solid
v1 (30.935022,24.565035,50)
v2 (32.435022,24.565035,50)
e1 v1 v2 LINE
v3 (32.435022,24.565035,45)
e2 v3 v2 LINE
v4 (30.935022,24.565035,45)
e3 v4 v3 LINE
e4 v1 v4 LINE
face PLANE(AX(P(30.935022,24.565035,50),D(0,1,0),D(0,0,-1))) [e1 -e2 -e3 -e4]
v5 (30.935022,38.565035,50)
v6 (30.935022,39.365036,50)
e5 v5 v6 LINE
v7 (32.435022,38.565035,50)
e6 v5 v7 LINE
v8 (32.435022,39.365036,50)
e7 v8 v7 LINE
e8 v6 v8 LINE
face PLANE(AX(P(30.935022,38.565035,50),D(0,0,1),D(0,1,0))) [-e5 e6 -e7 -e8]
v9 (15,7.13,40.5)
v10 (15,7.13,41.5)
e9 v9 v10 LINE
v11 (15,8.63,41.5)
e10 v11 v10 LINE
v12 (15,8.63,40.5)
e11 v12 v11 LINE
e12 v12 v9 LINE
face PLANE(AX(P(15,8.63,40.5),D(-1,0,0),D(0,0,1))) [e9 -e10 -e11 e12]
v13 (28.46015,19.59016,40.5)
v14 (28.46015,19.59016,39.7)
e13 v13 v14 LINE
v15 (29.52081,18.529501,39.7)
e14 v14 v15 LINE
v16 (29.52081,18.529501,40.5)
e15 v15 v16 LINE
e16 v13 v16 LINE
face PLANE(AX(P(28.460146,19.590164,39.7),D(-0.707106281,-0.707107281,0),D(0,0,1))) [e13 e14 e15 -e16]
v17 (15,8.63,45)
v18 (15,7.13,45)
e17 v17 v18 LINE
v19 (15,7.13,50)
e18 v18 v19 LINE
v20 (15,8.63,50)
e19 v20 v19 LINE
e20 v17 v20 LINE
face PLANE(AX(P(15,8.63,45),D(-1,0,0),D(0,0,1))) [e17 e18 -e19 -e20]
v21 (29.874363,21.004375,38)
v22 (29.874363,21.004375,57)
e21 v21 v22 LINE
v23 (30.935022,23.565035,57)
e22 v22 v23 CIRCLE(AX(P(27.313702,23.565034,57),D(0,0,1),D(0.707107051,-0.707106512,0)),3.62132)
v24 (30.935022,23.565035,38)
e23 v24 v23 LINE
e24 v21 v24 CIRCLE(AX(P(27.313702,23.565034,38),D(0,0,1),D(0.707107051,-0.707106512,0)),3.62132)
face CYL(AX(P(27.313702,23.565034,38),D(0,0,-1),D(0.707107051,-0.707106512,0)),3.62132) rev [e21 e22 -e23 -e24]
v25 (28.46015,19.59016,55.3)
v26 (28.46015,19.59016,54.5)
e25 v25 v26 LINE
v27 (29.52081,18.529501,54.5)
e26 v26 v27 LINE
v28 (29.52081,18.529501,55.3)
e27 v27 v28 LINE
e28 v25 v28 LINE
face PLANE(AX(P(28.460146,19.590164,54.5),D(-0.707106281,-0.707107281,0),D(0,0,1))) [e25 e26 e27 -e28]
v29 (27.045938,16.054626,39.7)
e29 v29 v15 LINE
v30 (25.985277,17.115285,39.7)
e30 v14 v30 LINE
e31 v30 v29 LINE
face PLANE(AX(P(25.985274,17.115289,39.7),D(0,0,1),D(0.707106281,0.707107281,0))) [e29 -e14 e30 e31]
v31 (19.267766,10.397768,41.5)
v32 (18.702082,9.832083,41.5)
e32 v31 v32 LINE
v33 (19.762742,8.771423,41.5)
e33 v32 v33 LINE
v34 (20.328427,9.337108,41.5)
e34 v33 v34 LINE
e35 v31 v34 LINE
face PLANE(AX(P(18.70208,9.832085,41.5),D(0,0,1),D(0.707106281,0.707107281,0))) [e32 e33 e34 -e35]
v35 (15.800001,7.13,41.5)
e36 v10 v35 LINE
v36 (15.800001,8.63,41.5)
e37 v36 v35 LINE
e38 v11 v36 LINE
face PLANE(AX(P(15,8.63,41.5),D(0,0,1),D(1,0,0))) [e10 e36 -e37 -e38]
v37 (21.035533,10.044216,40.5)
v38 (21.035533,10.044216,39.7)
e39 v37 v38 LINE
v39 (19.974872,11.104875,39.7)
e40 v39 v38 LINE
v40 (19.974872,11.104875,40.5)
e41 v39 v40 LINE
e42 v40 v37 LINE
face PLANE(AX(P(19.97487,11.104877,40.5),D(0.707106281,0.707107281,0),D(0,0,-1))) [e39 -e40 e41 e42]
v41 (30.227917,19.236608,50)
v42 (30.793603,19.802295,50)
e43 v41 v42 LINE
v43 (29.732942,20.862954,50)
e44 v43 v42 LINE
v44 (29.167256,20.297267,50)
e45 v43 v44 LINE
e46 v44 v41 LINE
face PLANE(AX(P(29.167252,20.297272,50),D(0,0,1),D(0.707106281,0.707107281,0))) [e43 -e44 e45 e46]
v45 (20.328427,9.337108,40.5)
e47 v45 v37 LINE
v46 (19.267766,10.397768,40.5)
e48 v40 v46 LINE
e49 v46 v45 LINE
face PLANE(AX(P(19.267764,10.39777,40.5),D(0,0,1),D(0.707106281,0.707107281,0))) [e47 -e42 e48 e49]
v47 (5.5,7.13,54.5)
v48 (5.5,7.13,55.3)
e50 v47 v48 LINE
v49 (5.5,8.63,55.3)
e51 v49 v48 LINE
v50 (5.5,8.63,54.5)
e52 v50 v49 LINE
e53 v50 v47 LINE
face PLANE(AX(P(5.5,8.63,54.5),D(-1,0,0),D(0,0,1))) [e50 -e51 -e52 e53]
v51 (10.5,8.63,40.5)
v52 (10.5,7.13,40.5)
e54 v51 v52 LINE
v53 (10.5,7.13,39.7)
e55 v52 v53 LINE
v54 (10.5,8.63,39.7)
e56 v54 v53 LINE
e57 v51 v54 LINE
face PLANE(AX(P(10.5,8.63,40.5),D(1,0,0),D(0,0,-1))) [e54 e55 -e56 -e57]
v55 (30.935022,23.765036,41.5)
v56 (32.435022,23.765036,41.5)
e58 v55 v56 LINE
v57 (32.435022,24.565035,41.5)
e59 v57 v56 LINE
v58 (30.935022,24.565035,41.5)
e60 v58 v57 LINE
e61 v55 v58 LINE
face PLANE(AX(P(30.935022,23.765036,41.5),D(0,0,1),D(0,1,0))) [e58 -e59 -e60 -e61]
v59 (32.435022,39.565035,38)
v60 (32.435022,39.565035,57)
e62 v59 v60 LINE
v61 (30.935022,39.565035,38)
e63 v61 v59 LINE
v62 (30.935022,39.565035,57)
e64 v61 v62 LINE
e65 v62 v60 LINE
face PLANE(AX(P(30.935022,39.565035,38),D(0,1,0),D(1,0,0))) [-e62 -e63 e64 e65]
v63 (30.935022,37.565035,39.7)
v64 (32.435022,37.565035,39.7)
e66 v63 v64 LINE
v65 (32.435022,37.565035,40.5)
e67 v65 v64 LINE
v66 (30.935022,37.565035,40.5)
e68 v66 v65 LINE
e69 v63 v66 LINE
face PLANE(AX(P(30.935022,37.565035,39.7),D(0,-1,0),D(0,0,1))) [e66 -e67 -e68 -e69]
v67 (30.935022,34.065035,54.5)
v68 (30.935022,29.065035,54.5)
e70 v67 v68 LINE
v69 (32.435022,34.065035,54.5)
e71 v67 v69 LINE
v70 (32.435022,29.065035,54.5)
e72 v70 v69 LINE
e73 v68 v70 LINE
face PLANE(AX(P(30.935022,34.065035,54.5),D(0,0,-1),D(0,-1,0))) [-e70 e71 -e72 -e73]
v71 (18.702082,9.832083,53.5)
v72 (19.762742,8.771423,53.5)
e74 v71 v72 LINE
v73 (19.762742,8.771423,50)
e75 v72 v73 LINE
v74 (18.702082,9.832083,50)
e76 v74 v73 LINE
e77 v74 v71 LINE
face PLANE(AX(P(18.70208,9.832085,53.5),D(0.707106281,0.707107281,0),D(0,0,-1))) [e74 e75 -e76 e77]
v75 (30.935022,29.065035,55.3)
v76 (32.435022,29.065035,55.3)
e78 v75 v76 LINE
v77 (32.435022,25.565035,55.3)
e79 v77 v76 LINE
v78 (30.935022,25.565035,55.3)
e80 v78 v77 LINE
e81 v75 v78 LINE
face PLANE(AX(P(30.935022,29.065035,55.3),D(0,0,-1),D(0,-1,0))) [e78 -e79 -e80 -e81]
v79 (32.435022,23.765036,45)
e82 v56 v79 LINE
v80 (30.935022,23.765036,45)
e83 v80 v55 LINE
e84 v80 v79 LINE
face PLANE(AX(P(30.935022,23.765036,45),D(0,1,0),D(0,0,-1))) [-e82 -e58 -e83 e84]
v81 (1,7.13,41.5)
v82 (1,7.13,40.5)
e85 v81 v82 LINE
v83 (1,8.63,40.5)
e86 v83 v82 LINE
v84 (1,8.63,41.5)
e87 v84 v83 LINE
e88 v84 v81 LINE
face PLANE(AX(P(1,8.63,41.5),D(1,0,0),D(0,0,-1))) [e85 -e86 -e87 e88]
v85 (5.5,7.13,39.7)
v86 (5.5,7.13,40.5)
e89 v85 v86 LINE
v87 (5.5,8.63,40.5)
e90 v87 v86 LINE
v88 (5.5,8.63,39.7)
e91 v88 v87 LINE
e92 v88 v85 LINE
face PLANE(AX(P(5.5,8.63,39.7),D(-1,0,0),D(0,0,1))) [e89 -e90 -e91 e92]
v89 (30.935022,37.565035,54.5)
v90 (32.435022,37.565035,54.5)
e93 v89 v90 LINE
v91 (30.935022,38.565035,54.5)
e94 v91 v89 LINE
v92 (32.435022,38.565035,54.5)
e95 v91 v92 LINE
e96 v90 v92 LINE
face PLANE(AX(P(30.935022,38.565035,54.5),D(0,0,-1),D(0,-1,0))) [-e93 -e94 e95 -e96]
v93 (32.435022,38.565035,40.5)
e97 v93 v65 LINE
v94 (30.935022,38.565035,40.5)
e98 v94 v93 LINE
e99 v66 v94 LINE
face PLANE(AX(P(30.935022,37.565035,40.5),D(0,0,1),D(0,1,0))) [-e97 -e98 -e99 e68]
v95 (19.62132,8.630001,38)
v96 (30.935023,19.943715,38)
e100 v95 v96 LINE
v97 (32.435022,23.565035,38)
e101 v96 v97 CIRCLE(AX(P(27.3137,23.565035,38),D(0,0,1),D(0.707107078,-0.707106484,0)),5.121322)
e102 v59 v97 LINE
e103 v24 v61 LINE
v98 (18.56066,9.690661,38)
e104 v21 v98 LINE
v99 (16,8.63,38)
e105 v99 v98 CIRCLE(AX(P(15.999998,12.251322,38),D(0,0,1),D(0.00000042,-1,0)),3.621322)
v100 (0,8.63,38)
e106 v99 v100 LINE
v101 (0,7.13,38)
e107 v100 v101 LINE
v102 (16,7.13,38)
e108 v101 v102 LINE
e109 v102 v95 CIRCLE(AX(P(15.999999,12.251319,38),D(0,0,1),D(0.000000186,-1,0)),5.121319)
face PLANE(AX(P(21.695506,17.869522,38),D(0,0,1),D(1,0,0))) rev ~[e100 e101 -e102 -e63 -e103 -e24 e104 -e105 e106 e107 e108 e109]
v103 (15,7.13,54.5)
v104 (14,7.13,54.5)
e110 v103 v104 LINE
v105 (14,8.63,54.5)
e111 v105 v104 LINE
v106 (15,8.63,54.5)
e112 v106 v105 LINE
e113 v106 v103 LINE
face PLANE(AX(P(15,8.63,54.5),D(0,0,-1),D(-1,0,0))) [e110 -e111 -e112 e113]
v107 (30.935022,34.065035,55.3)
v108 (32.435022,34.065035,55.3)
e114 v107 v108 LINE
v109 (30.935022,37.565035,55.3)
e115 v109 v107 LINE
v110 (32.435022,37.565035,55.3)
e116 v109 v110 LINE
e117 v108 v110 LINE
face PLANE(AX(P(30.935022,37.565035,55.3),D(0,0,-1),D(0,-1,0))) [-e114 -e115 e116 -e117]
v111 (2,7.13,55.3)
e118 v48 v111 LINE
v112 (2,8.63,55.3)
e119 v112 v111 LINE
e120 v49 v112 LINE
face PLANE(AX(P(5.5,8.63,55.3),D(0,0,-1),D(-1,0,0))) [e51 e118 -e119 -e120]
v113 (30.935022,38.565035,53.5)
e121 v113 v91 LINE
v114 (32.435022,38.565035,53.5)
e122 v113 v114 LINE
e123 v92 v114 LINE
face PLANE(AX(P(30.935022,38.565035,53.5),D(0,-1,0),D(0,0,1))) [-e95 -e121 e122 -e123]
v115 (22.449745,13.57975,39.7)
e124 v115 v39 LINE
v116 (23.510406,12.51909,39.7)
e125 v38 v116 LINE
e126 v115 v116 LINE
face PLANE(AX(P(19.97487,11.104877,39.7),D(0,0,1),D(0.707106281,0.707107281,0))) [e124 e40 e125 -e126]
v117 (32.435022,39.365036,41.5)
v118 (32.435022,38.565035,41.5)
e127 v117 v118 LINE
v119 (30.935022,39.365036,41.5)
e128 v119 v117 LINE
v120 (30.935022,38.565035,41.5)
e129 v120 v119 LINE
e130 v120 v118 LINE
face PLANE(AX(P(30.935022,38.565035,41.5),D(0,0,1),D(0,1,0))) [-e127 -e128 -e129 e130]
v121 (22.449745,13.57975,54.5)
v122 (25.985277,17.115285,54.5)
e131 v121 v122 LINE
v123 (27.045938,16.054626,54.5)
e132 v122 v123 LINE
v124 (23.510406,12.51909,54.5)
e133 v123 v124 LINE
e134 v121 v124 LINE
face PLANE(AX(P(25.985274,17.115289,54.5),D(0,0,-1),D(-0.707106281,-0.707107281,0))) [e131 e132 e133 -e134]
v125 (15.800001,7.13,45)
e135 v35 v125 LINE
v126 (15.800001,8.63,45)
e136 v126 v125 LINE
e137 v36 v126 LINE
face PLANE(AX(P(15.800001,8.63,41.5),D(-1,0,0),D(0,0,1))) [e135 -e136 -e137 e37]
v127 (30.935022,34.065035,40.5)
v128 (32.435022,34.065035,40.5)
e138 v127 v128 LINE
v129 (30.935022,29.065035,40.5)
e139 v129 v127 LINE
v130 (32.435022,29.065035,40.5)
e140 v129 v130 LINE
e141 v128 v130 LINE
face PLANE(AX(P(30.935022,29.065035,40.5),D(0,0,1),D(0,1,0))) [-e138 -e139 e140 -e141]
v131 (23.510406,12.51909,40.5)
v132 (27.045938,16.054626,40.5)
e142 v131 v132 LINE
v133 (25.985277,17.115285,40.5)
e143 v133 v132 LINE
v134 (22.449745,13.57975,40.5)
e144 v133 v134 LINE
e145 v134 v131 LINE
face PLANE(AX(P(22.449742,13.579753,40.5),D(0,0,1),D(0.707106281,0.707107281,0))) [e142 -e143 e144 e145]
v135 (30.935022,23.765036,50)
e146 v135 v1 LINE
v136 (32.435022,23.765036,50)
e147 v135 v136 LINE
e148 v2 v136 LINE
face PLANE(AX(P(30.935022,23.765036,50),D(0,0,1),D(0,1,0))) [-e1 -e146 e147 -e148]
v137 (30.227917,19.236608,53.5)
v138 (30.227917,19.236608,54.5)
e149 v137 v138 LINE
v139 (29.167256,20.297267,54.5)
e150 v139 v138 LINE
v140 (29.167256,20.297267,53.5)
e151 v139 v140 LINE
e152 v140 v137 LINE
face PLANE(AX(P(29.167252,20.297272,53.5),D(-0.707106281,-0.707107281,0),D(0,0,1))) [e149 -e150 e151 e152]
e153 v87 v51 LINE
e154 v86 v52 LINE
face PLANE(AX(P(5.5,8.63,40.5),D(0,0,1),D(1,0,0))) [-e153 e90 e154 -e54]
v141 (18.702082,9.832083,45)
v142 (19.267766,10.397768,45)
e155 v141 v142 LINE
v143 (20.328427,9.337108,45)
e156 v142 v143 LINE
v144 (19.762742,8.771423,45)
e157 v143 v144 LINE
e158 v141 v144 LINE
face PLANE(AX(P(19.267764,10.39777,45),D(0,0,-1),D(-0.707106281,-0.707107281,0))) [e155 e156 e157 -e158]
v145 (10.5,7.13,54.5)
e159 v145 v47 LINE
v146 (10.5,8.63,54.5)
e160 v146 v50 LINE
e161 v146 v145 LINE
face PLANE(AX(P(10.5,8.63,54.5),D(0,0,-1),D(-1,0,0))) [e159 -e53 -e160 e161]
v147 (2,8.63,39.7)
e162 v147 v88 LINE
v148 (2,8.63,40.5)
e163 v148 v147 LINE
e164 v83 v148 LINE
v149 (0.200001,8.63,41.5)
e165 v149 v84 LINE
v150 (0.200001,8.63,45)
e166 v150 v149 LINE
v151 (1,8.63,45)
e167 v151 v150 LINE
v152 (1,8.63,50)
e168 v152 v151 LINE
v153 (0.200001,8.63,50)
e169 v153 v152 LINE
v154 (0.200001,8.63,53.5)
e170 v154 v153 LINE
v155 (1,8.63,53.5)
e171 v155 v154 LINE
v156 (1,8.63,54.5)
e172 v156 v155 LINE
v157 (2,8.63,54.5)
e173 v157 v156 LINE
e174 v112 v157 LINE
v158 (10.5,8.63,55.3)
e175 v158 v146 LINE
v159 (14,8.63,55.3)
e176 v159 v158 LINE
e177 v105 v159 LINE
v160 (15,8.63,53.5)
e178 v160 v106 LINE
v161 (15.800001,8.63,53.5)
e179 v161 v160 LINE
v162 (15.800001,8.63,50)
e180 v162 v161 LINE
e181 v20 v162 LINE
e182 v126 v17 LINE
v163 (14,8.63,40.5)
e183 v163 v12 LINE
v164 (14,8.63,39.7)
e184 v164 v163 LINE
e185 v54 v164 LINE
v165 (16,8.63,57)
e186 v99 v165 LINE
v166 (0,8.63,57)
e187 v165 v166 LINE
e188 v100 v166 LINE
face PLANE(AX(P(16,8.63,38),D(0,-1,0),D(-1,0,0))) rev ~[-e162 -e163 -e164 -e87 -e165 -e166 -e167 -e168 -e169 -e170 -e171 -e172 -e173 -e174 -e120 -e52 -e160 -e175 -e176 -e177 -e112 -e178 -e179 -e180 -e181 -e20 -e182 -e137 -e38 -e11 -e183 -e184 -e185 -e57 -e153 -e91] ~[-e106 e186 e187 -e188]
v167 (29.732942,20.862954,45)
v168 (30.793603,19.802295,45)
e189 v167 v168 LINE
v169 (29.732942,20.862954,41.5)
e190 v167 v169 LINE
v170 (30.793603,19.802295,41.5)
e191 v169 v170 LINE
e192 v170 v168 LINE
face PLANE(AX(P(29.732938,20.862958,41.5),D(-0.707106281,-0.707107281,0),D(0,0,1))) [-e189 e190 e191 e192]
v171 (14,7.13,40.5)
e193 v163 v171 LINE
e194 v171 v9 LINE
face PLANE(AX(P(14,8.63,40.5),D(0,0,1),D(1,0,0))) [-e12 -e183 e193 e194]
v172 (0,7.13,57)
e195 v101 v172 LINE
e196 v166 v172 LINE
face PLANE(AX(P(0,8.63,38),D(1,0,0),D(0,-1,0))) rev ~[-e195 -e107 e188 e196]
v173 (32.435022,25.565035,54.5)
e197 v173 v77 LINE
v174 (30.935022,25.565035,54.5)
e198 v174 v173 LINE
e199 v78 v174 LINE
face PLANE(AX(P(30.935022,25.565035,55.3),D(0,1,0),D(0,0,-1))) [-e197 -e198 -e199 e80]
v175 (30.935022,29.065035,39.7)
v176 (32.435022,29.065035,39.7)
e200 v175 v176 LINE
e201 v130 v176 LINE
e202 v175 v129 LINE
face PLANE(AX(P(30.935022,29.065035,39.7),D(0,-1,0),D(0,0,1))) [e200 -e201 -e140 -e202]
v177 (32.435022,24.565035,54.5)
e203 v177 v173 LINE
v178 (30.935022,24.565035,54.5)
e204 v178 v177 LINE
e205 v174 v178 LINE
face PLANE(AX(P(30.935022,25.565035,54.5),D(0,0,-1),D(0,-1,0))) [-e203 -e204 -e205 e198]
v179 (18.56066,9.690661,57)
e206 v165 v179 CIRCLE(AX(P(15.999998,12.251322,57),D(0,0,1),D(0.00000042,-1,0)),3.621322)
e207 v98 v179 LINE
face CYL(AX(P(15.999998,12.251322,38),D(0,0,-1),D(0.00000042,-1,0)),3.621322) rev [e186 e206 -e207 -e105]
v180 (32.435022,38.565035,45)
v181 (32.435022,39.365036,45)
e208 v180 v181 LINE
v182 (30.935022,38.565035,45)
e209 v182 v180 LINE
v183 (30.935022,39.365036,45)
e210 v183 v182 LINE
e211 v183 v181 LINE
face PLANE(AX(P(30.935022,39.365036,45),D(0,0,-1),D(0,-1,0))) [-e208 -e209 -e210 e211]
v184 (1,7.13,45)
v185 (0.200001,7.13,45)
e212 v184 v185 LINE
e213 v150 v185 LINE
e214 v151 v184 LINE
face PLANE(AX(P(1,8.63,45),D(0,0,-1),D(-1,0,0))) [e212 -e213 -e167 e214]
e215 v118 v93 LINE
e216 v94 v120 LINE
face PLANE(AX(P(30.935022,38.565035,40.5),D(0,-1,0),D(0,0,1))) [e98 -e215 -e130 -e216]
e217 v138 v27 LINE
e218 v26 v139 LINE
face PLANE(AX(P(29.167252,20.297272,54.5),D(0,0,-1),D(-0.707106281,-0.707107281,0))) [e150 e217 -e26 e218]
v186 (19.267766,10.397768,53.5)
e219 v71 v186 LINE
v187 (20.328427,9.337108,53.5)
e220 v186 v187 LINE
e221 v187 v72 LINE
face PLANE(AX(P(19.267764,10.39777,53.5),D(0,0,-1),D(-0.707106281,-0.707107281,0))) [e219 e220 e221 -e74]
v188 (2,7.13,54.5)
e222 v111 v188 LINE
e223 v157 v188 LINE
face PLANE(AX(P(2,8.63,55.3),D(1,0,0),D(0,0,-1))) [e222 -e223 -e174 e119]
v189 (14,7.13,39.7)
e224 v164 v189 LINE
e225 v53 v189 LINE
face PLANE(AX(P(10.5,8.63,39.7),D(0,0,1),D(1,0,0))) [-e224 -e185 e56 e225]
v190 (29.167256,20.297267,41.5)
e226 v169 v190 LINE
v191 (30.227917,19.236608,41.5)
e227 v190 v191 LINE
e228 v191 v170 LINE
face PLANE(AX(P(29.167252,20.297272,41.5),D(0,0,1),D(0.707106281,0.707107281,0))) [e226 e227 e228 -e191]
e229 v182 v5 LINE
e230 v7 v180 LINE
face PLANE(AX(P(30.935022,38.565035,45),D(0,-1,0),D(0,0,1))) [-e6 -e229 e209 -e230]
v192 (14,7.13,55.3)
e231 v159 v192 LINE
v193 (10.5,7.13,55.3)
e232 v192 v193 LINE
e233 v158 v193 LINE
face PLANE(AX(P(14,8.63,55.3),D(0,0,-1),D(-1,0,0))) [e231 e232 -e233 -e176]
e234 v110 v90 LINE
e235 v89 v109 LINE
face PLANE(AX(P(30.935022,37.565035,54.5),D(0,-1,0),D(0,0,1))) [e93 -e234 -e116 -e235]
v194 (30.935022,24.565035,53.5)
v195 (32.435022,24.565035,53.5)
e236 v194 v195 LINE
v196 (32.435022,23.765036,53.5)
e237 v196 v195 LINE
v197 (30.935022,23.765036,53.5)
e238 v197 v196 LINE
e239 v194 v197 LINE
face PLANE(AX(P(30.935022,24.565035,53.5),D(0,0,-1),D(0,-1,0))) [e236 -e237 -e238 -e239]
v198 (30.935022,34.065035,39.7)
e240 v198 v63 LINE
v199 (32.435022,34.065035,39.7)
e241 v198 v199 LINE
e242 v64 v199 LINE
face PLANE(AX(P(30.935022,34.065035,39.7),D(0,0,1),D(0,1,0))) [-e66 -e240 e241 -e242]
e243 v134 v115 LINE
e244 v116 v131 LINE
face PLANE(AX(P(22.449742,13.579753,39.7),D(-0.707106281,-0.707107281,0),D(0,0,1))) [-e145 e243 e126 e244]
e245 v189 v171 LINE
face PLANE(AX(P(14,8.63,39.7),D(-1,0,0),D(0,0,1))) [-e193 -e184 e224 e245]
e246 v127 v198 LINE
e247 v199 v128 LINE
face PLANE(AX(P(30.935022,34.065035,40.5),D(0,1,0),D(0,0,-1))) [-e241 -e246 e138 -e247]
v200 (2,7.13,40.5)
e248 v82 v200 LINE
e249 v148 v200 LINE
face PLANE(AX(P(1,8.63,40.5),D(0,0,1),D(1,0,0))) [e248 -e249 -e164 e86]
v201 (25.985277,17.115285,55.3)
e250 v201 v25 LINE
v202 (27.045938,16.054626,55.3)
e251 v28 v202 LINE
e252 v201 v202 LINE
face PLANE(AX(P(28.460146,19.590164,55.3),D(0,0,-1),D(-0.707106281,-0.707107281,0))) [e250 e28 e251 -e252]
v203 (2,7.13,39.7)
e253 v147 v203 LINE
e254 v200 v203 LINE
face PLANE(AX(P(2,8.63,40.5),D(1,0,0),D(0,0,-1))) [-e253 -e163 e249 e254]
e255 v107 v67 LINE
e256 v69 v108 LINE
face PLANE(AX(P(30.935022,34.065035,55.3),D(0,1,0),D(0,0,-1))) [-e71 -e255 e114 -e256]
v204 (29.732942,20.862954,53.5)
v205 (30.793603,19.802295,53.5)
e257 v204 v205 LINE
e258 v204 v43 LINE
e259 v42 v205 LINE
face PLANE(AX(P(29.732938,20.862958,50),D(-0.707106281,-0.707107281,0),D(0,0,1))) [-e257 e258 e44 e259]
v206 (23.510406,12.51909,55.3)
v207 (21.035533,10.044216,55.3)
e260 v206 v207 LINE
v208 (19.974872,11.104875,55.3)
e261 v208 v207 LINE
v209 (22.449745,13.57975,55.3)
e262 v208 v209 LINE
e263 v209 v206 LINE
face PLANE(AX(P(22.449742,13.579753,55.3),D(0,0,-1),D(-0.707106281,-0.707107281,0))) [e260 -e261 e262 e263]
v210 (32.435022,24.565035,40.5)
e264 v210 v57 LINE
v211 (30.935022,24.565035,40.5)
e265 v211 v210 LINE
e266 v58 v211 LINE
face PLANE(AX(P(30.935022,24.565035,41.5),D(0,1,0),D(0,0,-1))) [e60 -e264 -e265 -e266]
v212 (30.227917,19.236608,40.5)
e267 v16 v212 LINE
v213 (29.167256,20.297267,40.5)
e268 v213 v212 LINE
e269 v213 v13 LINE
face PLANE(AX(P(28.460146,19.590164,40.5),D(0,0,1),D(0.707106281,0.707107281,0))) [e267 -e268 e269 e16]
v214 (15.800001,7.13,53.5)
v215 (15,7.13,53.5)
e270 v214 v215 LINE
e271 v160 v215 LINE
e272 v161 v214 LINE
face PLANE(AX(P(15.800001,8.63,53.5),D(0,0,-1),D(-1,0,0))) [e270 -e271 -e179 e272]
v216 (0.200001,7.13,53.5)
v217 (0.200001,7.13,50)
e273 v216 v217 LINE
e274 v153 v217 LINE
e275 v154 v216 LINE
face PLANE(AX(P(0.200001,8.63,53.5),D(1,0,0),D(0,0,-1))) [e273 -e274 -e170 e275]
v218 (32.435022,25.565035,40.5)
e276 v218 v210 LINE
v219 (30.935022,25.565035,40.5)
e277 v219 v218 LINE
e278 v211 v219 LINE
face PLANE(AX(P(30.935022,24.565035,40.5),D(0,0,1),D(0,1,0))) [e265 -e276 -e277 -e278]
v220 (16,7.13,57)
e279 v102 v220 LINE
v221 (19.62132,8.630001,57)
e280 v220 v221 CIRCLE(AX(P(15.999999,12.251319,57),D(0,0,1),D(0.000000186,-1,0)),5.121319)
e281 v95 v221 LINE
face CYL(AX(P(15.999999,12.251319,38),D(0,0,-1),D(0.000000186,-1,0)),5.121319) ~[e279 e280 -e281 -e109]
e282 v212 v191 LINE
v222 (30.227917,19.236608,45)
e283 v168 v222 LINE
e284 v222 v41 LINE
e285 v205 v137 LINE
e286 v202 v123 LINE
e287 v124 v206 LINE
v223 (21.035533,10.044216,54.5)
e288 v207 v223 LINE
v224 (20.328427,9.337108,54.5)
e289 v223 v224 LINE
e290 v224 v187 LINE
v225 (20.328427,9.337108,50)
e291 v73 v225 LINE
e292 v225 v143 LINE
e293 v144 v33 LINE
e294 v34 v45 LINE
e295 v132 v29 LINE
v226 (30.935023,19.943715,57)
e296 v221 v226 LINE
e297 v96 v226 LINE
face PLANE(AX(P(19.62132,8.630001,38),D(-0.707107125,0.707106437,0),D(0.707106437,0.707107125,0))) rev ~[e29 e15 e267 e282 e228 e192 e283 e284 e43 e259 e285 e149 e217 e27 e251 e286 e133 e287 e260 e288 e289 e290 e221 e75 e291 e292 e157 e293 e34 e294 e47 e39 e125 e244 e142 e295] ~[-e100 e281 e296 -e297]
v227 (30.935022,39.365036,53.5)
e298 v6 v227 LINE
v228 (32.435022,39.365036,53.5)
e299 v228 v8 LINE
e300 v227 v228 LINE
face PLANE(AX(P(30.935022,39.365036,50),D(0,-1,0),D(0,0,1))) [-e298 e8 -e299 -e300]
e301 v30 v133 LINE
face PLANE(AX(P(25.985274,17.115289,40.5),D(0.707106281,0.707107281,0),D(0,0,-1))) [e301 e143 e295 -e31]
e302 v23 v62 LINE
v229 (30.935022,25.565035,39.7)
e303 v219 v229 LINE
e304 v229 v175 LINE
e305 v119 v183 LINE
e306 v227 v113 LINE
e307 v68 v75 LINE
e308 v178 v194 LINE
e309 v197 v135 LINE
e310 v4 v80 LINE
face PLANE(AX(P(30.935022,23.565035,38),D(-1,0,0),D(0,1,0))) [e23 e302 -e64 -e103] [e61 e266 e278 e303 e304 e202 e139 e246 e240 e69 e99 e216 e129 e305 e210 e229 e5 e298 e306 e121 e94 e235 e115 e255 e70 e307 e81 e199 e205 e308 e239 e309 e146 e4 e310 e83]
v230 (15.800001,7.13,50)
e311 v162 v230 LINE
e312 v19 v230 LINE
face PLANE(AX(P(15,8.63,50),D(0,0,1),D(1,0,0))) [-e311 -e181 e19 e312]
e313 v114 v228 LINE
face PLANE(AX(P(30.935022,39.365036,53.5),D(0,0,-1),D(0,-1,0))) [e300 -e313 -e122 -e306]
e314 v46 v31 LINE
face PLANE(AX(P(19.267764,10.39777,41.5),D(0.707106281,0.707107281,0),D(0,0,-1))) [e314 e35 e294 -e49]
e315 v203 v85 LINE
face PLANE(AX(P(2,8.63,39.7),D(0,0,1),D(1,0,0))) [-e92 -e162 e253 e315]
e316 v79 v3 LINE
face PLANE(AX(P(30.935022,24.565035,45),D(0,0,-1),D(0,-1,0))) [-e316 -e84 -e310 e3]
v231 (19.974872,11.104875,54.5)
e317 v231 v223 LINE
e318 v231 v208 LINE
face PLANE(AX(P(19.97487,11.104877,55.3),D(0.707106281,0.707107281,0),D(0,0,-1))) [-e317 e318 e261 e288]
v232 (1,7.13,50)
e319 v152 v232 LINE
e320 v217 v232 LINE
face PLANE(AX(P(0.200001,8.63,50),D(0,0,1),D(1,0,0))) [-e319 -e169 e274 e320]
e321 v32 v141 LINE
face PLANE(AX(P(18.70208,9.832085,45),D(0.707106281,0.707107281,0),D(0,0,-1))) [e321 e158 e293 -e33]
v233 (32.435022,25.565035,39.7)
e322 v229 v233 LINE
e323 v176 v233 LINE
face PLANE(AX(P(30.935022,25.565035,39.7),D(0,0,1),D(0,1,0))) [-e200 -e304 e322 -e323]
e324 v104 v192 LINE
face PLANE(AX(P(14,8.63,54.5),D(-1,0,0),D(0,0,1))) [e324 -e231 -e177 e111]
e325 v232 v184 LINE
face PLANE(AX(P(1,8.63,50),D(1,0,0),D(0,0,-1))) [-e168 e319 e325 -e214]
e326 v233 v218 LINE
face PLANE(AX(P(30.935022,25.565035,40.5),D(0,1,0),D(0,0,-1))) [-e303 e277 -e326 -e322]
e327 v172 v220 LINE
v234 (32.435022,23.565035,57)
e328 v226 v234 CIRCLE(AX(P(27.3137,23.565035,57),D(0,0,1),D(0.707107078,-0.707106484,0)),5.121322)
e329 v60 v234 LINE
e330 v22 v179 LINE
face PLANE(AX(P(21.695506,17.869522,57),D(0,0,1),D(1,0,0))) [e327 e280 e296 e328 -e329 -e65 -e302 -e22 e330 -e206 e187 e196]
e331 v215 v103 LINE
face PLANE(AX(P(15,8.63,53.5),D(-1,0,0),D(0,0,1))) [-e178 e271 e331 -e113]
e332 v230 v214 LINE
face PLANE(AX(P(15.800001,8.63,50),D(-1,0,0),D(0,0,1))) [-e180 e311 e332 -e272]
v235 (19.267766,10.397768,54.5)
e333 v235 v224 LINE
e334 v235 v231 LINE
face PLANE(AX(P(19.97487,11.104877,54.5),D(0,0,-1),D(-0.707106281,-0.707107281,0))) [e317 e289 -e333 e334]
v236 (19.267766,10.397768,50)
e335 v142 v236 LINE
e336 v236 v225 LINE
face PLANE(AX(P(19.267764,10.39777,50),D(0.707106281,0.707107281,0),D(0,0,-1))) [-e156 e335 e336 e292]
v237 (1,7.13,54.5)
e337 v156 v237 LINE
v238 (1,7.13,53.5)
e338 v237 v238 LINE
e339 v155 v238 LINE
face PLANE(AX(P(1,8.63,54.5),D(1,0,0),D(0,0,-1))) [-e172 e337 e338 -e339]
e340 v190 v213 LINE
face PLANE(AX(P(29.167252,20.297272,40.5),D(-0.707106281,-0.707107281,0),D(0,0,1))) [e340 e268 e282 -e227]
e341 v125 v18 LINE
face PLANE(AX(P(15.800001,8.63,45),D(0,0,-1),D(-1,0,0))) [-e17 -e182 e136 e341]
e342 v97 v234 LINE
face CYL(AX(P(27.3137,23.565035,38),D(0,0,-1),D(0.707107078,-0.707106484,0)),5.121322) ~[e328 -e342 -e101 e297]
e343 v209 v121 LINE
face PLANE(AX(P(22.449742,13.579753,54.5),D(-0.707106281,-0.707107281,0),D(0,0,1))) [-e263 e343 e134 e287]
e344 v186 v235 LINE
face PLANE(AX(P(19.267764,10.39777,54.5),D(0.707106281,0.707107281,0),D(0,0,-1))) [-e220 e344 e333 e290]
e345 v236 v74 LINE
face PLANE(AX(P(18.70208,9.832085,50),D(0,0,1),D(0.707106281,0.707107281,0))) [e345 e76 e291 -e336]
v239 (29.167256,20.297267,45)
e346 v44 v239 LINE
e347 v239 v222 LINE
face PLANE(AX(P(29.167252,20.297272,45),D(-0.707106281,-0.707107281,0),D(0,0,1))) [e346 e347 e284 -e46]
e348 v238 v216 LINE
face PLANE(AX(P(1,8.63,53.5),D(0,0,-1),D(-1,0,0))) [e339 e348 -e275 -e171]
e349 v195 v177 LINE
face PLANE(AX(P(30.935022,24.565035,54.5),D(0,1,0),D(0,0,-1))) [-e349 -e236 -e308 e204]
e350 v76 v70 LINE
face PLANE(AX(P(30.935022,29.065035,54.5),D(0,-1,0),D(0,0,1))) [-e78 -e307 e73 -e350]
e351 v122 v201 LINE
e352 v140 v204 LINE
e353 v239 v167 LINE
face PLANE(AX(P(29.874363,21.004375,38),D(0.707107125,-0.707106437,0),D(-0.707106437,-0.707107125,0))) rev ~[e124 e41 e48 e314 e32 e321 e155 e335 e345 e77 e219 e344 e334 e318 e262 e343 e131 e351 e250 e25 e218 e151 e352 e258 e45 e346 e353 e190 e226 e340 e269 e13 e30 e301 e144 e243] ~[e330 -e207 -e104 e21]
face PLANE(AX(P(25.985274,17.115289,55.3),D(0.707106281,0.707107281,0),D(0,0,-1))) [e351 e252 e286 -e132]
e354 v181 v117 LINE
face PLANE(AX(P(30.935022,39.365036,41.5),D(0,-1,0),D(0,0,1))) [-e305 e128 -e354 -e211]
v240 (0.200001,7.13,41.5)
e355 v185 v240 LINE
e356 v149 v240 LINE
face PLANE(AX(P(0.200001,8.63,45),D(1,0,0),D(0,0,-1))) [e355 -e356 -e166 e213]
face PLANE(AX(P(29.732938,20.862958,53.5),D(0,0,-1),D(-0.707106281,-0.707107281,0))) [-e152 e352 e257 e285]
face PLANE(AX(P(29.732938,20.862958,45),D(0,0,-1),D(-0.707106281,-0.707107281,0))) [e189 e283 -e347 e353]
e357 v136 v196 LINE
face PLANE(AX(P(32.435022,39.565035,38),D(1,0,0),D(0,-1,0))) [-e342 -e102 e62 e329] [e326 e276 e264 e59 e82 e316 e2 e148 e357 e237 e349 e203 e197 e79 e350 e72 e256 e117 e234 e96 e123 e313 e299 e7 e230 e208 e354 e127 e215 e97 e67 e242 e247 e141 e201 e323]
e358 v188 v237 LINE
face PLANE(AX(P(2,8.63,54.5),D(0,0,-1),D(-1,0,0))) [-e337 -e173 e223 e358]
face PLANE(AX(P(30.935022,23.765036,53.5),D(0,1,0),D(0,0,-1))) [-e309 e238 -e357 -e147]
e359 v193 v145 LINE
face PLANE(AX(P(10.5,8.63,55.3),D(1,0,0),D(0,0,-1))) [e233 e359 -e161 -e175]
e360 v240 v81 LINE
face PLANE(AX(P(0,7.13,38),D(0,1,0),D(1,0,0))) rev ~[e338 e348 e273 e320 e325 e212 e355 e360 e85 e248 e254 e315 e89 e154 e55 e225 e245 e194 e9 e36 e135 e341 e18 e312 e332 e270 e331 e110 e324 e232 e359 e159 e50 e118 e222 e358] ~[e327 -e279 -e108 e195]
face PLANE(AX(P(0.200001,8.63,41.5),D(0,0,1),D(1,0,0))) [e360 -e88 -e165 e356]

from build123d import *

# Parameters (mm, degrees)
PAD_DEPTH       = 19
POCKET_DEPTH    = 11.62232
POCKET002_DEPTH = 1.501
POCKET003_DEPTH = 1.501


with BuildPart() as part:
    # Sketch → Pad (new body)
    with BuildSketch(Plane.XY):
        with BuildLine():
            Line((0, 0), (16, 0))
            ThreePointArc((16, 0), (17.959845, 0.389838), (19.62132, 1.500001))
            Line((19.62132, 1.500001), (30.935023, 12.813715))
            ThreePointArc((30.935023, 12.813715), (32.045185, 14.475191), (32.435022, 16.435035))
            Line((32.435022, 32.435035), (32.435022, 16.435035))
            Line((30.935022, 32.435035), (32.435022, 32.435035))
            Line((30.935022, 16.435035), (30.935022, 32.435035))
            ThreePointArc((29.874363, 13.874375), (30.659366, 15.049216), (30.935022, 16.435035))
            Line((29.874363, 13.874375), (18.56066, 2.560661))
            ThreePointArc((16, 1.5), (17.385819, 1.775657), (18.56066, 2.560661))
            Line((16, 1.5), (0, 1.5))
            Line((0, 1.5), (0, 0))
        make_face()
    extrude(amount=PAD_DEPTH)

    # Sketch004 → Pocket (cut, through all)
    with BuildSketch(Plane(origin=(8.000009, -8.000001, 0), x_dir=(-0.707106, -0.707107, 0), z_dir=(-0.707107, 0.707106, 0))):
        Polygon((-28.935023, 17.3), (-25.435023, 17.3), (-25.435023, 16.5), (-20.435023, 16.5), (-20.435023, 17.3), (-16.935023, 17.3), (-16.935023, 16.5), (-15.935023, 16.5), (-15.935023, 15.5), (-15.135024, 15.5), (-15.135024, 12), (-15.935023, 12), (-15.935023, 7), (-15.135024, 7), (-15.135024, 3.5), (-15.935023, 3.5), (-15.935023, 2.5), (-16.935023, 2.5), (-16.935023, 1.7), (-20.435023, 1.7), (-20.435023, 2.5), (-25.435023, 2.5), (-25.435023, 1.7), (-28.935023, 1.7), (-28.935023, 2.5), (-29.935023, 2.5), (-29.935023, 3.5), (-30.735024, 3.5), (-30.735024, 7), (-29.935023, 7), (-29.935023, 12), (-30.735024, 12), (-30.735024, 15.5), (-29.935023, 15.5), (-29.935023, 16.5), (-28.935023, 16.5), align=None)
    extrude(amount=-POCKET_DEPTH, mode=Mode.SUBTRACT)

    # Sketch004001 → Pocket002 (cut, through all)
    with BuildSketch(Plane(origin=(30.935022, 0, 0), x_dir=(0, -1, 0), z_dir=(-1, 0, 0))):
        Polygon((-30.435035, 17.3), (-26.935035, 17.3), (-26.935035, 16.5), (-21.935035, 16.5), (-21.935035, 17.3), (-18.435035, 17.3), (-18.435035, 16.5), (-17.435035, 16.5), (-17.435035, 15.5), (-16.635036, 15.5), (-16.635036, 12), (-17.435035, 12), (-17.435035, 7), (-16.635036, 7), (-16.635036, 3.5), (-17.435035, 3.5), (-17.435035, 2.5), (-18.435035, 2.5), (-18.435035, 1.7), (-21.935035, 1.7), (-21.935035, 2.5), (-26.935035, 2.5), (-26.935035, 1.7), (-30.435035, 1.7), (-30.435035, 2.5), (-31.435035, 2.5), (-31.435035, 3.5), (-32.235036, 3.5), (-32.235036, 7), (-31.435035, 7), (-31.435035, 12), (-32.235036, 12), (-32.235036, 15.5), (-31.435035, 15.5), (-31.435035, 16.5), (-30.435035, 16.5), align=None)
    extrude(amount=-POCKET002_DEPTH, mode=Mode.SUBTRACT)

    # Sketch004001001 → Pocket003 (cut, through all)
    with BuildSketch(Plane(origin=(0, 1.5, 0), x_dir=(-1, 0, 0), z_dir=(0, 1, 0))):
        Polygon((-14, 17.3), (-10.5, 17.3), (-10.5, 16.5), (-5.5, 16.5), (-5.5, 17.3), (-2, 17.3), (-2, 16.5), (-1, 16.5), (-1, 15.5), (-0.200001, 15.5), (-0.200001, 12), (-1, 12), (-1, 7), (-0.200001, 7), (-0.200001, 3.5), (-1, 3.5), (-1, 2.5), (-2, 2.5), (-2, 1.7), (-5.5, 1.7), (-5.5, 2.5), (-10.5, 2.5), (-10.5, 1.7), (-14, 1.7), (-14, 2.5), (-15, 2.5), (-15, 3.5), (-15.800001, 3.5), (-15.800001, 7), (-15, 7), (-15, 12), (-15.800001, 12), (-15.800001, 15.5), (-15, 15.5), (-15, 16.5), (-14, 16.5), align=None)
    extrude(amount=-POCKET003_DEPTH, mode=Mode.SUBTRACT)


with BuildPart() as part_1:
    # Clone placement: moved
    add(part.part.moved(Location((0, 2.38, 19))))


with BuildPart() as part_2:
    # Clone001 placement: moved
    add(part_1.part.moved(Location((0, 4.75, 19))))


solid = part_2.part
